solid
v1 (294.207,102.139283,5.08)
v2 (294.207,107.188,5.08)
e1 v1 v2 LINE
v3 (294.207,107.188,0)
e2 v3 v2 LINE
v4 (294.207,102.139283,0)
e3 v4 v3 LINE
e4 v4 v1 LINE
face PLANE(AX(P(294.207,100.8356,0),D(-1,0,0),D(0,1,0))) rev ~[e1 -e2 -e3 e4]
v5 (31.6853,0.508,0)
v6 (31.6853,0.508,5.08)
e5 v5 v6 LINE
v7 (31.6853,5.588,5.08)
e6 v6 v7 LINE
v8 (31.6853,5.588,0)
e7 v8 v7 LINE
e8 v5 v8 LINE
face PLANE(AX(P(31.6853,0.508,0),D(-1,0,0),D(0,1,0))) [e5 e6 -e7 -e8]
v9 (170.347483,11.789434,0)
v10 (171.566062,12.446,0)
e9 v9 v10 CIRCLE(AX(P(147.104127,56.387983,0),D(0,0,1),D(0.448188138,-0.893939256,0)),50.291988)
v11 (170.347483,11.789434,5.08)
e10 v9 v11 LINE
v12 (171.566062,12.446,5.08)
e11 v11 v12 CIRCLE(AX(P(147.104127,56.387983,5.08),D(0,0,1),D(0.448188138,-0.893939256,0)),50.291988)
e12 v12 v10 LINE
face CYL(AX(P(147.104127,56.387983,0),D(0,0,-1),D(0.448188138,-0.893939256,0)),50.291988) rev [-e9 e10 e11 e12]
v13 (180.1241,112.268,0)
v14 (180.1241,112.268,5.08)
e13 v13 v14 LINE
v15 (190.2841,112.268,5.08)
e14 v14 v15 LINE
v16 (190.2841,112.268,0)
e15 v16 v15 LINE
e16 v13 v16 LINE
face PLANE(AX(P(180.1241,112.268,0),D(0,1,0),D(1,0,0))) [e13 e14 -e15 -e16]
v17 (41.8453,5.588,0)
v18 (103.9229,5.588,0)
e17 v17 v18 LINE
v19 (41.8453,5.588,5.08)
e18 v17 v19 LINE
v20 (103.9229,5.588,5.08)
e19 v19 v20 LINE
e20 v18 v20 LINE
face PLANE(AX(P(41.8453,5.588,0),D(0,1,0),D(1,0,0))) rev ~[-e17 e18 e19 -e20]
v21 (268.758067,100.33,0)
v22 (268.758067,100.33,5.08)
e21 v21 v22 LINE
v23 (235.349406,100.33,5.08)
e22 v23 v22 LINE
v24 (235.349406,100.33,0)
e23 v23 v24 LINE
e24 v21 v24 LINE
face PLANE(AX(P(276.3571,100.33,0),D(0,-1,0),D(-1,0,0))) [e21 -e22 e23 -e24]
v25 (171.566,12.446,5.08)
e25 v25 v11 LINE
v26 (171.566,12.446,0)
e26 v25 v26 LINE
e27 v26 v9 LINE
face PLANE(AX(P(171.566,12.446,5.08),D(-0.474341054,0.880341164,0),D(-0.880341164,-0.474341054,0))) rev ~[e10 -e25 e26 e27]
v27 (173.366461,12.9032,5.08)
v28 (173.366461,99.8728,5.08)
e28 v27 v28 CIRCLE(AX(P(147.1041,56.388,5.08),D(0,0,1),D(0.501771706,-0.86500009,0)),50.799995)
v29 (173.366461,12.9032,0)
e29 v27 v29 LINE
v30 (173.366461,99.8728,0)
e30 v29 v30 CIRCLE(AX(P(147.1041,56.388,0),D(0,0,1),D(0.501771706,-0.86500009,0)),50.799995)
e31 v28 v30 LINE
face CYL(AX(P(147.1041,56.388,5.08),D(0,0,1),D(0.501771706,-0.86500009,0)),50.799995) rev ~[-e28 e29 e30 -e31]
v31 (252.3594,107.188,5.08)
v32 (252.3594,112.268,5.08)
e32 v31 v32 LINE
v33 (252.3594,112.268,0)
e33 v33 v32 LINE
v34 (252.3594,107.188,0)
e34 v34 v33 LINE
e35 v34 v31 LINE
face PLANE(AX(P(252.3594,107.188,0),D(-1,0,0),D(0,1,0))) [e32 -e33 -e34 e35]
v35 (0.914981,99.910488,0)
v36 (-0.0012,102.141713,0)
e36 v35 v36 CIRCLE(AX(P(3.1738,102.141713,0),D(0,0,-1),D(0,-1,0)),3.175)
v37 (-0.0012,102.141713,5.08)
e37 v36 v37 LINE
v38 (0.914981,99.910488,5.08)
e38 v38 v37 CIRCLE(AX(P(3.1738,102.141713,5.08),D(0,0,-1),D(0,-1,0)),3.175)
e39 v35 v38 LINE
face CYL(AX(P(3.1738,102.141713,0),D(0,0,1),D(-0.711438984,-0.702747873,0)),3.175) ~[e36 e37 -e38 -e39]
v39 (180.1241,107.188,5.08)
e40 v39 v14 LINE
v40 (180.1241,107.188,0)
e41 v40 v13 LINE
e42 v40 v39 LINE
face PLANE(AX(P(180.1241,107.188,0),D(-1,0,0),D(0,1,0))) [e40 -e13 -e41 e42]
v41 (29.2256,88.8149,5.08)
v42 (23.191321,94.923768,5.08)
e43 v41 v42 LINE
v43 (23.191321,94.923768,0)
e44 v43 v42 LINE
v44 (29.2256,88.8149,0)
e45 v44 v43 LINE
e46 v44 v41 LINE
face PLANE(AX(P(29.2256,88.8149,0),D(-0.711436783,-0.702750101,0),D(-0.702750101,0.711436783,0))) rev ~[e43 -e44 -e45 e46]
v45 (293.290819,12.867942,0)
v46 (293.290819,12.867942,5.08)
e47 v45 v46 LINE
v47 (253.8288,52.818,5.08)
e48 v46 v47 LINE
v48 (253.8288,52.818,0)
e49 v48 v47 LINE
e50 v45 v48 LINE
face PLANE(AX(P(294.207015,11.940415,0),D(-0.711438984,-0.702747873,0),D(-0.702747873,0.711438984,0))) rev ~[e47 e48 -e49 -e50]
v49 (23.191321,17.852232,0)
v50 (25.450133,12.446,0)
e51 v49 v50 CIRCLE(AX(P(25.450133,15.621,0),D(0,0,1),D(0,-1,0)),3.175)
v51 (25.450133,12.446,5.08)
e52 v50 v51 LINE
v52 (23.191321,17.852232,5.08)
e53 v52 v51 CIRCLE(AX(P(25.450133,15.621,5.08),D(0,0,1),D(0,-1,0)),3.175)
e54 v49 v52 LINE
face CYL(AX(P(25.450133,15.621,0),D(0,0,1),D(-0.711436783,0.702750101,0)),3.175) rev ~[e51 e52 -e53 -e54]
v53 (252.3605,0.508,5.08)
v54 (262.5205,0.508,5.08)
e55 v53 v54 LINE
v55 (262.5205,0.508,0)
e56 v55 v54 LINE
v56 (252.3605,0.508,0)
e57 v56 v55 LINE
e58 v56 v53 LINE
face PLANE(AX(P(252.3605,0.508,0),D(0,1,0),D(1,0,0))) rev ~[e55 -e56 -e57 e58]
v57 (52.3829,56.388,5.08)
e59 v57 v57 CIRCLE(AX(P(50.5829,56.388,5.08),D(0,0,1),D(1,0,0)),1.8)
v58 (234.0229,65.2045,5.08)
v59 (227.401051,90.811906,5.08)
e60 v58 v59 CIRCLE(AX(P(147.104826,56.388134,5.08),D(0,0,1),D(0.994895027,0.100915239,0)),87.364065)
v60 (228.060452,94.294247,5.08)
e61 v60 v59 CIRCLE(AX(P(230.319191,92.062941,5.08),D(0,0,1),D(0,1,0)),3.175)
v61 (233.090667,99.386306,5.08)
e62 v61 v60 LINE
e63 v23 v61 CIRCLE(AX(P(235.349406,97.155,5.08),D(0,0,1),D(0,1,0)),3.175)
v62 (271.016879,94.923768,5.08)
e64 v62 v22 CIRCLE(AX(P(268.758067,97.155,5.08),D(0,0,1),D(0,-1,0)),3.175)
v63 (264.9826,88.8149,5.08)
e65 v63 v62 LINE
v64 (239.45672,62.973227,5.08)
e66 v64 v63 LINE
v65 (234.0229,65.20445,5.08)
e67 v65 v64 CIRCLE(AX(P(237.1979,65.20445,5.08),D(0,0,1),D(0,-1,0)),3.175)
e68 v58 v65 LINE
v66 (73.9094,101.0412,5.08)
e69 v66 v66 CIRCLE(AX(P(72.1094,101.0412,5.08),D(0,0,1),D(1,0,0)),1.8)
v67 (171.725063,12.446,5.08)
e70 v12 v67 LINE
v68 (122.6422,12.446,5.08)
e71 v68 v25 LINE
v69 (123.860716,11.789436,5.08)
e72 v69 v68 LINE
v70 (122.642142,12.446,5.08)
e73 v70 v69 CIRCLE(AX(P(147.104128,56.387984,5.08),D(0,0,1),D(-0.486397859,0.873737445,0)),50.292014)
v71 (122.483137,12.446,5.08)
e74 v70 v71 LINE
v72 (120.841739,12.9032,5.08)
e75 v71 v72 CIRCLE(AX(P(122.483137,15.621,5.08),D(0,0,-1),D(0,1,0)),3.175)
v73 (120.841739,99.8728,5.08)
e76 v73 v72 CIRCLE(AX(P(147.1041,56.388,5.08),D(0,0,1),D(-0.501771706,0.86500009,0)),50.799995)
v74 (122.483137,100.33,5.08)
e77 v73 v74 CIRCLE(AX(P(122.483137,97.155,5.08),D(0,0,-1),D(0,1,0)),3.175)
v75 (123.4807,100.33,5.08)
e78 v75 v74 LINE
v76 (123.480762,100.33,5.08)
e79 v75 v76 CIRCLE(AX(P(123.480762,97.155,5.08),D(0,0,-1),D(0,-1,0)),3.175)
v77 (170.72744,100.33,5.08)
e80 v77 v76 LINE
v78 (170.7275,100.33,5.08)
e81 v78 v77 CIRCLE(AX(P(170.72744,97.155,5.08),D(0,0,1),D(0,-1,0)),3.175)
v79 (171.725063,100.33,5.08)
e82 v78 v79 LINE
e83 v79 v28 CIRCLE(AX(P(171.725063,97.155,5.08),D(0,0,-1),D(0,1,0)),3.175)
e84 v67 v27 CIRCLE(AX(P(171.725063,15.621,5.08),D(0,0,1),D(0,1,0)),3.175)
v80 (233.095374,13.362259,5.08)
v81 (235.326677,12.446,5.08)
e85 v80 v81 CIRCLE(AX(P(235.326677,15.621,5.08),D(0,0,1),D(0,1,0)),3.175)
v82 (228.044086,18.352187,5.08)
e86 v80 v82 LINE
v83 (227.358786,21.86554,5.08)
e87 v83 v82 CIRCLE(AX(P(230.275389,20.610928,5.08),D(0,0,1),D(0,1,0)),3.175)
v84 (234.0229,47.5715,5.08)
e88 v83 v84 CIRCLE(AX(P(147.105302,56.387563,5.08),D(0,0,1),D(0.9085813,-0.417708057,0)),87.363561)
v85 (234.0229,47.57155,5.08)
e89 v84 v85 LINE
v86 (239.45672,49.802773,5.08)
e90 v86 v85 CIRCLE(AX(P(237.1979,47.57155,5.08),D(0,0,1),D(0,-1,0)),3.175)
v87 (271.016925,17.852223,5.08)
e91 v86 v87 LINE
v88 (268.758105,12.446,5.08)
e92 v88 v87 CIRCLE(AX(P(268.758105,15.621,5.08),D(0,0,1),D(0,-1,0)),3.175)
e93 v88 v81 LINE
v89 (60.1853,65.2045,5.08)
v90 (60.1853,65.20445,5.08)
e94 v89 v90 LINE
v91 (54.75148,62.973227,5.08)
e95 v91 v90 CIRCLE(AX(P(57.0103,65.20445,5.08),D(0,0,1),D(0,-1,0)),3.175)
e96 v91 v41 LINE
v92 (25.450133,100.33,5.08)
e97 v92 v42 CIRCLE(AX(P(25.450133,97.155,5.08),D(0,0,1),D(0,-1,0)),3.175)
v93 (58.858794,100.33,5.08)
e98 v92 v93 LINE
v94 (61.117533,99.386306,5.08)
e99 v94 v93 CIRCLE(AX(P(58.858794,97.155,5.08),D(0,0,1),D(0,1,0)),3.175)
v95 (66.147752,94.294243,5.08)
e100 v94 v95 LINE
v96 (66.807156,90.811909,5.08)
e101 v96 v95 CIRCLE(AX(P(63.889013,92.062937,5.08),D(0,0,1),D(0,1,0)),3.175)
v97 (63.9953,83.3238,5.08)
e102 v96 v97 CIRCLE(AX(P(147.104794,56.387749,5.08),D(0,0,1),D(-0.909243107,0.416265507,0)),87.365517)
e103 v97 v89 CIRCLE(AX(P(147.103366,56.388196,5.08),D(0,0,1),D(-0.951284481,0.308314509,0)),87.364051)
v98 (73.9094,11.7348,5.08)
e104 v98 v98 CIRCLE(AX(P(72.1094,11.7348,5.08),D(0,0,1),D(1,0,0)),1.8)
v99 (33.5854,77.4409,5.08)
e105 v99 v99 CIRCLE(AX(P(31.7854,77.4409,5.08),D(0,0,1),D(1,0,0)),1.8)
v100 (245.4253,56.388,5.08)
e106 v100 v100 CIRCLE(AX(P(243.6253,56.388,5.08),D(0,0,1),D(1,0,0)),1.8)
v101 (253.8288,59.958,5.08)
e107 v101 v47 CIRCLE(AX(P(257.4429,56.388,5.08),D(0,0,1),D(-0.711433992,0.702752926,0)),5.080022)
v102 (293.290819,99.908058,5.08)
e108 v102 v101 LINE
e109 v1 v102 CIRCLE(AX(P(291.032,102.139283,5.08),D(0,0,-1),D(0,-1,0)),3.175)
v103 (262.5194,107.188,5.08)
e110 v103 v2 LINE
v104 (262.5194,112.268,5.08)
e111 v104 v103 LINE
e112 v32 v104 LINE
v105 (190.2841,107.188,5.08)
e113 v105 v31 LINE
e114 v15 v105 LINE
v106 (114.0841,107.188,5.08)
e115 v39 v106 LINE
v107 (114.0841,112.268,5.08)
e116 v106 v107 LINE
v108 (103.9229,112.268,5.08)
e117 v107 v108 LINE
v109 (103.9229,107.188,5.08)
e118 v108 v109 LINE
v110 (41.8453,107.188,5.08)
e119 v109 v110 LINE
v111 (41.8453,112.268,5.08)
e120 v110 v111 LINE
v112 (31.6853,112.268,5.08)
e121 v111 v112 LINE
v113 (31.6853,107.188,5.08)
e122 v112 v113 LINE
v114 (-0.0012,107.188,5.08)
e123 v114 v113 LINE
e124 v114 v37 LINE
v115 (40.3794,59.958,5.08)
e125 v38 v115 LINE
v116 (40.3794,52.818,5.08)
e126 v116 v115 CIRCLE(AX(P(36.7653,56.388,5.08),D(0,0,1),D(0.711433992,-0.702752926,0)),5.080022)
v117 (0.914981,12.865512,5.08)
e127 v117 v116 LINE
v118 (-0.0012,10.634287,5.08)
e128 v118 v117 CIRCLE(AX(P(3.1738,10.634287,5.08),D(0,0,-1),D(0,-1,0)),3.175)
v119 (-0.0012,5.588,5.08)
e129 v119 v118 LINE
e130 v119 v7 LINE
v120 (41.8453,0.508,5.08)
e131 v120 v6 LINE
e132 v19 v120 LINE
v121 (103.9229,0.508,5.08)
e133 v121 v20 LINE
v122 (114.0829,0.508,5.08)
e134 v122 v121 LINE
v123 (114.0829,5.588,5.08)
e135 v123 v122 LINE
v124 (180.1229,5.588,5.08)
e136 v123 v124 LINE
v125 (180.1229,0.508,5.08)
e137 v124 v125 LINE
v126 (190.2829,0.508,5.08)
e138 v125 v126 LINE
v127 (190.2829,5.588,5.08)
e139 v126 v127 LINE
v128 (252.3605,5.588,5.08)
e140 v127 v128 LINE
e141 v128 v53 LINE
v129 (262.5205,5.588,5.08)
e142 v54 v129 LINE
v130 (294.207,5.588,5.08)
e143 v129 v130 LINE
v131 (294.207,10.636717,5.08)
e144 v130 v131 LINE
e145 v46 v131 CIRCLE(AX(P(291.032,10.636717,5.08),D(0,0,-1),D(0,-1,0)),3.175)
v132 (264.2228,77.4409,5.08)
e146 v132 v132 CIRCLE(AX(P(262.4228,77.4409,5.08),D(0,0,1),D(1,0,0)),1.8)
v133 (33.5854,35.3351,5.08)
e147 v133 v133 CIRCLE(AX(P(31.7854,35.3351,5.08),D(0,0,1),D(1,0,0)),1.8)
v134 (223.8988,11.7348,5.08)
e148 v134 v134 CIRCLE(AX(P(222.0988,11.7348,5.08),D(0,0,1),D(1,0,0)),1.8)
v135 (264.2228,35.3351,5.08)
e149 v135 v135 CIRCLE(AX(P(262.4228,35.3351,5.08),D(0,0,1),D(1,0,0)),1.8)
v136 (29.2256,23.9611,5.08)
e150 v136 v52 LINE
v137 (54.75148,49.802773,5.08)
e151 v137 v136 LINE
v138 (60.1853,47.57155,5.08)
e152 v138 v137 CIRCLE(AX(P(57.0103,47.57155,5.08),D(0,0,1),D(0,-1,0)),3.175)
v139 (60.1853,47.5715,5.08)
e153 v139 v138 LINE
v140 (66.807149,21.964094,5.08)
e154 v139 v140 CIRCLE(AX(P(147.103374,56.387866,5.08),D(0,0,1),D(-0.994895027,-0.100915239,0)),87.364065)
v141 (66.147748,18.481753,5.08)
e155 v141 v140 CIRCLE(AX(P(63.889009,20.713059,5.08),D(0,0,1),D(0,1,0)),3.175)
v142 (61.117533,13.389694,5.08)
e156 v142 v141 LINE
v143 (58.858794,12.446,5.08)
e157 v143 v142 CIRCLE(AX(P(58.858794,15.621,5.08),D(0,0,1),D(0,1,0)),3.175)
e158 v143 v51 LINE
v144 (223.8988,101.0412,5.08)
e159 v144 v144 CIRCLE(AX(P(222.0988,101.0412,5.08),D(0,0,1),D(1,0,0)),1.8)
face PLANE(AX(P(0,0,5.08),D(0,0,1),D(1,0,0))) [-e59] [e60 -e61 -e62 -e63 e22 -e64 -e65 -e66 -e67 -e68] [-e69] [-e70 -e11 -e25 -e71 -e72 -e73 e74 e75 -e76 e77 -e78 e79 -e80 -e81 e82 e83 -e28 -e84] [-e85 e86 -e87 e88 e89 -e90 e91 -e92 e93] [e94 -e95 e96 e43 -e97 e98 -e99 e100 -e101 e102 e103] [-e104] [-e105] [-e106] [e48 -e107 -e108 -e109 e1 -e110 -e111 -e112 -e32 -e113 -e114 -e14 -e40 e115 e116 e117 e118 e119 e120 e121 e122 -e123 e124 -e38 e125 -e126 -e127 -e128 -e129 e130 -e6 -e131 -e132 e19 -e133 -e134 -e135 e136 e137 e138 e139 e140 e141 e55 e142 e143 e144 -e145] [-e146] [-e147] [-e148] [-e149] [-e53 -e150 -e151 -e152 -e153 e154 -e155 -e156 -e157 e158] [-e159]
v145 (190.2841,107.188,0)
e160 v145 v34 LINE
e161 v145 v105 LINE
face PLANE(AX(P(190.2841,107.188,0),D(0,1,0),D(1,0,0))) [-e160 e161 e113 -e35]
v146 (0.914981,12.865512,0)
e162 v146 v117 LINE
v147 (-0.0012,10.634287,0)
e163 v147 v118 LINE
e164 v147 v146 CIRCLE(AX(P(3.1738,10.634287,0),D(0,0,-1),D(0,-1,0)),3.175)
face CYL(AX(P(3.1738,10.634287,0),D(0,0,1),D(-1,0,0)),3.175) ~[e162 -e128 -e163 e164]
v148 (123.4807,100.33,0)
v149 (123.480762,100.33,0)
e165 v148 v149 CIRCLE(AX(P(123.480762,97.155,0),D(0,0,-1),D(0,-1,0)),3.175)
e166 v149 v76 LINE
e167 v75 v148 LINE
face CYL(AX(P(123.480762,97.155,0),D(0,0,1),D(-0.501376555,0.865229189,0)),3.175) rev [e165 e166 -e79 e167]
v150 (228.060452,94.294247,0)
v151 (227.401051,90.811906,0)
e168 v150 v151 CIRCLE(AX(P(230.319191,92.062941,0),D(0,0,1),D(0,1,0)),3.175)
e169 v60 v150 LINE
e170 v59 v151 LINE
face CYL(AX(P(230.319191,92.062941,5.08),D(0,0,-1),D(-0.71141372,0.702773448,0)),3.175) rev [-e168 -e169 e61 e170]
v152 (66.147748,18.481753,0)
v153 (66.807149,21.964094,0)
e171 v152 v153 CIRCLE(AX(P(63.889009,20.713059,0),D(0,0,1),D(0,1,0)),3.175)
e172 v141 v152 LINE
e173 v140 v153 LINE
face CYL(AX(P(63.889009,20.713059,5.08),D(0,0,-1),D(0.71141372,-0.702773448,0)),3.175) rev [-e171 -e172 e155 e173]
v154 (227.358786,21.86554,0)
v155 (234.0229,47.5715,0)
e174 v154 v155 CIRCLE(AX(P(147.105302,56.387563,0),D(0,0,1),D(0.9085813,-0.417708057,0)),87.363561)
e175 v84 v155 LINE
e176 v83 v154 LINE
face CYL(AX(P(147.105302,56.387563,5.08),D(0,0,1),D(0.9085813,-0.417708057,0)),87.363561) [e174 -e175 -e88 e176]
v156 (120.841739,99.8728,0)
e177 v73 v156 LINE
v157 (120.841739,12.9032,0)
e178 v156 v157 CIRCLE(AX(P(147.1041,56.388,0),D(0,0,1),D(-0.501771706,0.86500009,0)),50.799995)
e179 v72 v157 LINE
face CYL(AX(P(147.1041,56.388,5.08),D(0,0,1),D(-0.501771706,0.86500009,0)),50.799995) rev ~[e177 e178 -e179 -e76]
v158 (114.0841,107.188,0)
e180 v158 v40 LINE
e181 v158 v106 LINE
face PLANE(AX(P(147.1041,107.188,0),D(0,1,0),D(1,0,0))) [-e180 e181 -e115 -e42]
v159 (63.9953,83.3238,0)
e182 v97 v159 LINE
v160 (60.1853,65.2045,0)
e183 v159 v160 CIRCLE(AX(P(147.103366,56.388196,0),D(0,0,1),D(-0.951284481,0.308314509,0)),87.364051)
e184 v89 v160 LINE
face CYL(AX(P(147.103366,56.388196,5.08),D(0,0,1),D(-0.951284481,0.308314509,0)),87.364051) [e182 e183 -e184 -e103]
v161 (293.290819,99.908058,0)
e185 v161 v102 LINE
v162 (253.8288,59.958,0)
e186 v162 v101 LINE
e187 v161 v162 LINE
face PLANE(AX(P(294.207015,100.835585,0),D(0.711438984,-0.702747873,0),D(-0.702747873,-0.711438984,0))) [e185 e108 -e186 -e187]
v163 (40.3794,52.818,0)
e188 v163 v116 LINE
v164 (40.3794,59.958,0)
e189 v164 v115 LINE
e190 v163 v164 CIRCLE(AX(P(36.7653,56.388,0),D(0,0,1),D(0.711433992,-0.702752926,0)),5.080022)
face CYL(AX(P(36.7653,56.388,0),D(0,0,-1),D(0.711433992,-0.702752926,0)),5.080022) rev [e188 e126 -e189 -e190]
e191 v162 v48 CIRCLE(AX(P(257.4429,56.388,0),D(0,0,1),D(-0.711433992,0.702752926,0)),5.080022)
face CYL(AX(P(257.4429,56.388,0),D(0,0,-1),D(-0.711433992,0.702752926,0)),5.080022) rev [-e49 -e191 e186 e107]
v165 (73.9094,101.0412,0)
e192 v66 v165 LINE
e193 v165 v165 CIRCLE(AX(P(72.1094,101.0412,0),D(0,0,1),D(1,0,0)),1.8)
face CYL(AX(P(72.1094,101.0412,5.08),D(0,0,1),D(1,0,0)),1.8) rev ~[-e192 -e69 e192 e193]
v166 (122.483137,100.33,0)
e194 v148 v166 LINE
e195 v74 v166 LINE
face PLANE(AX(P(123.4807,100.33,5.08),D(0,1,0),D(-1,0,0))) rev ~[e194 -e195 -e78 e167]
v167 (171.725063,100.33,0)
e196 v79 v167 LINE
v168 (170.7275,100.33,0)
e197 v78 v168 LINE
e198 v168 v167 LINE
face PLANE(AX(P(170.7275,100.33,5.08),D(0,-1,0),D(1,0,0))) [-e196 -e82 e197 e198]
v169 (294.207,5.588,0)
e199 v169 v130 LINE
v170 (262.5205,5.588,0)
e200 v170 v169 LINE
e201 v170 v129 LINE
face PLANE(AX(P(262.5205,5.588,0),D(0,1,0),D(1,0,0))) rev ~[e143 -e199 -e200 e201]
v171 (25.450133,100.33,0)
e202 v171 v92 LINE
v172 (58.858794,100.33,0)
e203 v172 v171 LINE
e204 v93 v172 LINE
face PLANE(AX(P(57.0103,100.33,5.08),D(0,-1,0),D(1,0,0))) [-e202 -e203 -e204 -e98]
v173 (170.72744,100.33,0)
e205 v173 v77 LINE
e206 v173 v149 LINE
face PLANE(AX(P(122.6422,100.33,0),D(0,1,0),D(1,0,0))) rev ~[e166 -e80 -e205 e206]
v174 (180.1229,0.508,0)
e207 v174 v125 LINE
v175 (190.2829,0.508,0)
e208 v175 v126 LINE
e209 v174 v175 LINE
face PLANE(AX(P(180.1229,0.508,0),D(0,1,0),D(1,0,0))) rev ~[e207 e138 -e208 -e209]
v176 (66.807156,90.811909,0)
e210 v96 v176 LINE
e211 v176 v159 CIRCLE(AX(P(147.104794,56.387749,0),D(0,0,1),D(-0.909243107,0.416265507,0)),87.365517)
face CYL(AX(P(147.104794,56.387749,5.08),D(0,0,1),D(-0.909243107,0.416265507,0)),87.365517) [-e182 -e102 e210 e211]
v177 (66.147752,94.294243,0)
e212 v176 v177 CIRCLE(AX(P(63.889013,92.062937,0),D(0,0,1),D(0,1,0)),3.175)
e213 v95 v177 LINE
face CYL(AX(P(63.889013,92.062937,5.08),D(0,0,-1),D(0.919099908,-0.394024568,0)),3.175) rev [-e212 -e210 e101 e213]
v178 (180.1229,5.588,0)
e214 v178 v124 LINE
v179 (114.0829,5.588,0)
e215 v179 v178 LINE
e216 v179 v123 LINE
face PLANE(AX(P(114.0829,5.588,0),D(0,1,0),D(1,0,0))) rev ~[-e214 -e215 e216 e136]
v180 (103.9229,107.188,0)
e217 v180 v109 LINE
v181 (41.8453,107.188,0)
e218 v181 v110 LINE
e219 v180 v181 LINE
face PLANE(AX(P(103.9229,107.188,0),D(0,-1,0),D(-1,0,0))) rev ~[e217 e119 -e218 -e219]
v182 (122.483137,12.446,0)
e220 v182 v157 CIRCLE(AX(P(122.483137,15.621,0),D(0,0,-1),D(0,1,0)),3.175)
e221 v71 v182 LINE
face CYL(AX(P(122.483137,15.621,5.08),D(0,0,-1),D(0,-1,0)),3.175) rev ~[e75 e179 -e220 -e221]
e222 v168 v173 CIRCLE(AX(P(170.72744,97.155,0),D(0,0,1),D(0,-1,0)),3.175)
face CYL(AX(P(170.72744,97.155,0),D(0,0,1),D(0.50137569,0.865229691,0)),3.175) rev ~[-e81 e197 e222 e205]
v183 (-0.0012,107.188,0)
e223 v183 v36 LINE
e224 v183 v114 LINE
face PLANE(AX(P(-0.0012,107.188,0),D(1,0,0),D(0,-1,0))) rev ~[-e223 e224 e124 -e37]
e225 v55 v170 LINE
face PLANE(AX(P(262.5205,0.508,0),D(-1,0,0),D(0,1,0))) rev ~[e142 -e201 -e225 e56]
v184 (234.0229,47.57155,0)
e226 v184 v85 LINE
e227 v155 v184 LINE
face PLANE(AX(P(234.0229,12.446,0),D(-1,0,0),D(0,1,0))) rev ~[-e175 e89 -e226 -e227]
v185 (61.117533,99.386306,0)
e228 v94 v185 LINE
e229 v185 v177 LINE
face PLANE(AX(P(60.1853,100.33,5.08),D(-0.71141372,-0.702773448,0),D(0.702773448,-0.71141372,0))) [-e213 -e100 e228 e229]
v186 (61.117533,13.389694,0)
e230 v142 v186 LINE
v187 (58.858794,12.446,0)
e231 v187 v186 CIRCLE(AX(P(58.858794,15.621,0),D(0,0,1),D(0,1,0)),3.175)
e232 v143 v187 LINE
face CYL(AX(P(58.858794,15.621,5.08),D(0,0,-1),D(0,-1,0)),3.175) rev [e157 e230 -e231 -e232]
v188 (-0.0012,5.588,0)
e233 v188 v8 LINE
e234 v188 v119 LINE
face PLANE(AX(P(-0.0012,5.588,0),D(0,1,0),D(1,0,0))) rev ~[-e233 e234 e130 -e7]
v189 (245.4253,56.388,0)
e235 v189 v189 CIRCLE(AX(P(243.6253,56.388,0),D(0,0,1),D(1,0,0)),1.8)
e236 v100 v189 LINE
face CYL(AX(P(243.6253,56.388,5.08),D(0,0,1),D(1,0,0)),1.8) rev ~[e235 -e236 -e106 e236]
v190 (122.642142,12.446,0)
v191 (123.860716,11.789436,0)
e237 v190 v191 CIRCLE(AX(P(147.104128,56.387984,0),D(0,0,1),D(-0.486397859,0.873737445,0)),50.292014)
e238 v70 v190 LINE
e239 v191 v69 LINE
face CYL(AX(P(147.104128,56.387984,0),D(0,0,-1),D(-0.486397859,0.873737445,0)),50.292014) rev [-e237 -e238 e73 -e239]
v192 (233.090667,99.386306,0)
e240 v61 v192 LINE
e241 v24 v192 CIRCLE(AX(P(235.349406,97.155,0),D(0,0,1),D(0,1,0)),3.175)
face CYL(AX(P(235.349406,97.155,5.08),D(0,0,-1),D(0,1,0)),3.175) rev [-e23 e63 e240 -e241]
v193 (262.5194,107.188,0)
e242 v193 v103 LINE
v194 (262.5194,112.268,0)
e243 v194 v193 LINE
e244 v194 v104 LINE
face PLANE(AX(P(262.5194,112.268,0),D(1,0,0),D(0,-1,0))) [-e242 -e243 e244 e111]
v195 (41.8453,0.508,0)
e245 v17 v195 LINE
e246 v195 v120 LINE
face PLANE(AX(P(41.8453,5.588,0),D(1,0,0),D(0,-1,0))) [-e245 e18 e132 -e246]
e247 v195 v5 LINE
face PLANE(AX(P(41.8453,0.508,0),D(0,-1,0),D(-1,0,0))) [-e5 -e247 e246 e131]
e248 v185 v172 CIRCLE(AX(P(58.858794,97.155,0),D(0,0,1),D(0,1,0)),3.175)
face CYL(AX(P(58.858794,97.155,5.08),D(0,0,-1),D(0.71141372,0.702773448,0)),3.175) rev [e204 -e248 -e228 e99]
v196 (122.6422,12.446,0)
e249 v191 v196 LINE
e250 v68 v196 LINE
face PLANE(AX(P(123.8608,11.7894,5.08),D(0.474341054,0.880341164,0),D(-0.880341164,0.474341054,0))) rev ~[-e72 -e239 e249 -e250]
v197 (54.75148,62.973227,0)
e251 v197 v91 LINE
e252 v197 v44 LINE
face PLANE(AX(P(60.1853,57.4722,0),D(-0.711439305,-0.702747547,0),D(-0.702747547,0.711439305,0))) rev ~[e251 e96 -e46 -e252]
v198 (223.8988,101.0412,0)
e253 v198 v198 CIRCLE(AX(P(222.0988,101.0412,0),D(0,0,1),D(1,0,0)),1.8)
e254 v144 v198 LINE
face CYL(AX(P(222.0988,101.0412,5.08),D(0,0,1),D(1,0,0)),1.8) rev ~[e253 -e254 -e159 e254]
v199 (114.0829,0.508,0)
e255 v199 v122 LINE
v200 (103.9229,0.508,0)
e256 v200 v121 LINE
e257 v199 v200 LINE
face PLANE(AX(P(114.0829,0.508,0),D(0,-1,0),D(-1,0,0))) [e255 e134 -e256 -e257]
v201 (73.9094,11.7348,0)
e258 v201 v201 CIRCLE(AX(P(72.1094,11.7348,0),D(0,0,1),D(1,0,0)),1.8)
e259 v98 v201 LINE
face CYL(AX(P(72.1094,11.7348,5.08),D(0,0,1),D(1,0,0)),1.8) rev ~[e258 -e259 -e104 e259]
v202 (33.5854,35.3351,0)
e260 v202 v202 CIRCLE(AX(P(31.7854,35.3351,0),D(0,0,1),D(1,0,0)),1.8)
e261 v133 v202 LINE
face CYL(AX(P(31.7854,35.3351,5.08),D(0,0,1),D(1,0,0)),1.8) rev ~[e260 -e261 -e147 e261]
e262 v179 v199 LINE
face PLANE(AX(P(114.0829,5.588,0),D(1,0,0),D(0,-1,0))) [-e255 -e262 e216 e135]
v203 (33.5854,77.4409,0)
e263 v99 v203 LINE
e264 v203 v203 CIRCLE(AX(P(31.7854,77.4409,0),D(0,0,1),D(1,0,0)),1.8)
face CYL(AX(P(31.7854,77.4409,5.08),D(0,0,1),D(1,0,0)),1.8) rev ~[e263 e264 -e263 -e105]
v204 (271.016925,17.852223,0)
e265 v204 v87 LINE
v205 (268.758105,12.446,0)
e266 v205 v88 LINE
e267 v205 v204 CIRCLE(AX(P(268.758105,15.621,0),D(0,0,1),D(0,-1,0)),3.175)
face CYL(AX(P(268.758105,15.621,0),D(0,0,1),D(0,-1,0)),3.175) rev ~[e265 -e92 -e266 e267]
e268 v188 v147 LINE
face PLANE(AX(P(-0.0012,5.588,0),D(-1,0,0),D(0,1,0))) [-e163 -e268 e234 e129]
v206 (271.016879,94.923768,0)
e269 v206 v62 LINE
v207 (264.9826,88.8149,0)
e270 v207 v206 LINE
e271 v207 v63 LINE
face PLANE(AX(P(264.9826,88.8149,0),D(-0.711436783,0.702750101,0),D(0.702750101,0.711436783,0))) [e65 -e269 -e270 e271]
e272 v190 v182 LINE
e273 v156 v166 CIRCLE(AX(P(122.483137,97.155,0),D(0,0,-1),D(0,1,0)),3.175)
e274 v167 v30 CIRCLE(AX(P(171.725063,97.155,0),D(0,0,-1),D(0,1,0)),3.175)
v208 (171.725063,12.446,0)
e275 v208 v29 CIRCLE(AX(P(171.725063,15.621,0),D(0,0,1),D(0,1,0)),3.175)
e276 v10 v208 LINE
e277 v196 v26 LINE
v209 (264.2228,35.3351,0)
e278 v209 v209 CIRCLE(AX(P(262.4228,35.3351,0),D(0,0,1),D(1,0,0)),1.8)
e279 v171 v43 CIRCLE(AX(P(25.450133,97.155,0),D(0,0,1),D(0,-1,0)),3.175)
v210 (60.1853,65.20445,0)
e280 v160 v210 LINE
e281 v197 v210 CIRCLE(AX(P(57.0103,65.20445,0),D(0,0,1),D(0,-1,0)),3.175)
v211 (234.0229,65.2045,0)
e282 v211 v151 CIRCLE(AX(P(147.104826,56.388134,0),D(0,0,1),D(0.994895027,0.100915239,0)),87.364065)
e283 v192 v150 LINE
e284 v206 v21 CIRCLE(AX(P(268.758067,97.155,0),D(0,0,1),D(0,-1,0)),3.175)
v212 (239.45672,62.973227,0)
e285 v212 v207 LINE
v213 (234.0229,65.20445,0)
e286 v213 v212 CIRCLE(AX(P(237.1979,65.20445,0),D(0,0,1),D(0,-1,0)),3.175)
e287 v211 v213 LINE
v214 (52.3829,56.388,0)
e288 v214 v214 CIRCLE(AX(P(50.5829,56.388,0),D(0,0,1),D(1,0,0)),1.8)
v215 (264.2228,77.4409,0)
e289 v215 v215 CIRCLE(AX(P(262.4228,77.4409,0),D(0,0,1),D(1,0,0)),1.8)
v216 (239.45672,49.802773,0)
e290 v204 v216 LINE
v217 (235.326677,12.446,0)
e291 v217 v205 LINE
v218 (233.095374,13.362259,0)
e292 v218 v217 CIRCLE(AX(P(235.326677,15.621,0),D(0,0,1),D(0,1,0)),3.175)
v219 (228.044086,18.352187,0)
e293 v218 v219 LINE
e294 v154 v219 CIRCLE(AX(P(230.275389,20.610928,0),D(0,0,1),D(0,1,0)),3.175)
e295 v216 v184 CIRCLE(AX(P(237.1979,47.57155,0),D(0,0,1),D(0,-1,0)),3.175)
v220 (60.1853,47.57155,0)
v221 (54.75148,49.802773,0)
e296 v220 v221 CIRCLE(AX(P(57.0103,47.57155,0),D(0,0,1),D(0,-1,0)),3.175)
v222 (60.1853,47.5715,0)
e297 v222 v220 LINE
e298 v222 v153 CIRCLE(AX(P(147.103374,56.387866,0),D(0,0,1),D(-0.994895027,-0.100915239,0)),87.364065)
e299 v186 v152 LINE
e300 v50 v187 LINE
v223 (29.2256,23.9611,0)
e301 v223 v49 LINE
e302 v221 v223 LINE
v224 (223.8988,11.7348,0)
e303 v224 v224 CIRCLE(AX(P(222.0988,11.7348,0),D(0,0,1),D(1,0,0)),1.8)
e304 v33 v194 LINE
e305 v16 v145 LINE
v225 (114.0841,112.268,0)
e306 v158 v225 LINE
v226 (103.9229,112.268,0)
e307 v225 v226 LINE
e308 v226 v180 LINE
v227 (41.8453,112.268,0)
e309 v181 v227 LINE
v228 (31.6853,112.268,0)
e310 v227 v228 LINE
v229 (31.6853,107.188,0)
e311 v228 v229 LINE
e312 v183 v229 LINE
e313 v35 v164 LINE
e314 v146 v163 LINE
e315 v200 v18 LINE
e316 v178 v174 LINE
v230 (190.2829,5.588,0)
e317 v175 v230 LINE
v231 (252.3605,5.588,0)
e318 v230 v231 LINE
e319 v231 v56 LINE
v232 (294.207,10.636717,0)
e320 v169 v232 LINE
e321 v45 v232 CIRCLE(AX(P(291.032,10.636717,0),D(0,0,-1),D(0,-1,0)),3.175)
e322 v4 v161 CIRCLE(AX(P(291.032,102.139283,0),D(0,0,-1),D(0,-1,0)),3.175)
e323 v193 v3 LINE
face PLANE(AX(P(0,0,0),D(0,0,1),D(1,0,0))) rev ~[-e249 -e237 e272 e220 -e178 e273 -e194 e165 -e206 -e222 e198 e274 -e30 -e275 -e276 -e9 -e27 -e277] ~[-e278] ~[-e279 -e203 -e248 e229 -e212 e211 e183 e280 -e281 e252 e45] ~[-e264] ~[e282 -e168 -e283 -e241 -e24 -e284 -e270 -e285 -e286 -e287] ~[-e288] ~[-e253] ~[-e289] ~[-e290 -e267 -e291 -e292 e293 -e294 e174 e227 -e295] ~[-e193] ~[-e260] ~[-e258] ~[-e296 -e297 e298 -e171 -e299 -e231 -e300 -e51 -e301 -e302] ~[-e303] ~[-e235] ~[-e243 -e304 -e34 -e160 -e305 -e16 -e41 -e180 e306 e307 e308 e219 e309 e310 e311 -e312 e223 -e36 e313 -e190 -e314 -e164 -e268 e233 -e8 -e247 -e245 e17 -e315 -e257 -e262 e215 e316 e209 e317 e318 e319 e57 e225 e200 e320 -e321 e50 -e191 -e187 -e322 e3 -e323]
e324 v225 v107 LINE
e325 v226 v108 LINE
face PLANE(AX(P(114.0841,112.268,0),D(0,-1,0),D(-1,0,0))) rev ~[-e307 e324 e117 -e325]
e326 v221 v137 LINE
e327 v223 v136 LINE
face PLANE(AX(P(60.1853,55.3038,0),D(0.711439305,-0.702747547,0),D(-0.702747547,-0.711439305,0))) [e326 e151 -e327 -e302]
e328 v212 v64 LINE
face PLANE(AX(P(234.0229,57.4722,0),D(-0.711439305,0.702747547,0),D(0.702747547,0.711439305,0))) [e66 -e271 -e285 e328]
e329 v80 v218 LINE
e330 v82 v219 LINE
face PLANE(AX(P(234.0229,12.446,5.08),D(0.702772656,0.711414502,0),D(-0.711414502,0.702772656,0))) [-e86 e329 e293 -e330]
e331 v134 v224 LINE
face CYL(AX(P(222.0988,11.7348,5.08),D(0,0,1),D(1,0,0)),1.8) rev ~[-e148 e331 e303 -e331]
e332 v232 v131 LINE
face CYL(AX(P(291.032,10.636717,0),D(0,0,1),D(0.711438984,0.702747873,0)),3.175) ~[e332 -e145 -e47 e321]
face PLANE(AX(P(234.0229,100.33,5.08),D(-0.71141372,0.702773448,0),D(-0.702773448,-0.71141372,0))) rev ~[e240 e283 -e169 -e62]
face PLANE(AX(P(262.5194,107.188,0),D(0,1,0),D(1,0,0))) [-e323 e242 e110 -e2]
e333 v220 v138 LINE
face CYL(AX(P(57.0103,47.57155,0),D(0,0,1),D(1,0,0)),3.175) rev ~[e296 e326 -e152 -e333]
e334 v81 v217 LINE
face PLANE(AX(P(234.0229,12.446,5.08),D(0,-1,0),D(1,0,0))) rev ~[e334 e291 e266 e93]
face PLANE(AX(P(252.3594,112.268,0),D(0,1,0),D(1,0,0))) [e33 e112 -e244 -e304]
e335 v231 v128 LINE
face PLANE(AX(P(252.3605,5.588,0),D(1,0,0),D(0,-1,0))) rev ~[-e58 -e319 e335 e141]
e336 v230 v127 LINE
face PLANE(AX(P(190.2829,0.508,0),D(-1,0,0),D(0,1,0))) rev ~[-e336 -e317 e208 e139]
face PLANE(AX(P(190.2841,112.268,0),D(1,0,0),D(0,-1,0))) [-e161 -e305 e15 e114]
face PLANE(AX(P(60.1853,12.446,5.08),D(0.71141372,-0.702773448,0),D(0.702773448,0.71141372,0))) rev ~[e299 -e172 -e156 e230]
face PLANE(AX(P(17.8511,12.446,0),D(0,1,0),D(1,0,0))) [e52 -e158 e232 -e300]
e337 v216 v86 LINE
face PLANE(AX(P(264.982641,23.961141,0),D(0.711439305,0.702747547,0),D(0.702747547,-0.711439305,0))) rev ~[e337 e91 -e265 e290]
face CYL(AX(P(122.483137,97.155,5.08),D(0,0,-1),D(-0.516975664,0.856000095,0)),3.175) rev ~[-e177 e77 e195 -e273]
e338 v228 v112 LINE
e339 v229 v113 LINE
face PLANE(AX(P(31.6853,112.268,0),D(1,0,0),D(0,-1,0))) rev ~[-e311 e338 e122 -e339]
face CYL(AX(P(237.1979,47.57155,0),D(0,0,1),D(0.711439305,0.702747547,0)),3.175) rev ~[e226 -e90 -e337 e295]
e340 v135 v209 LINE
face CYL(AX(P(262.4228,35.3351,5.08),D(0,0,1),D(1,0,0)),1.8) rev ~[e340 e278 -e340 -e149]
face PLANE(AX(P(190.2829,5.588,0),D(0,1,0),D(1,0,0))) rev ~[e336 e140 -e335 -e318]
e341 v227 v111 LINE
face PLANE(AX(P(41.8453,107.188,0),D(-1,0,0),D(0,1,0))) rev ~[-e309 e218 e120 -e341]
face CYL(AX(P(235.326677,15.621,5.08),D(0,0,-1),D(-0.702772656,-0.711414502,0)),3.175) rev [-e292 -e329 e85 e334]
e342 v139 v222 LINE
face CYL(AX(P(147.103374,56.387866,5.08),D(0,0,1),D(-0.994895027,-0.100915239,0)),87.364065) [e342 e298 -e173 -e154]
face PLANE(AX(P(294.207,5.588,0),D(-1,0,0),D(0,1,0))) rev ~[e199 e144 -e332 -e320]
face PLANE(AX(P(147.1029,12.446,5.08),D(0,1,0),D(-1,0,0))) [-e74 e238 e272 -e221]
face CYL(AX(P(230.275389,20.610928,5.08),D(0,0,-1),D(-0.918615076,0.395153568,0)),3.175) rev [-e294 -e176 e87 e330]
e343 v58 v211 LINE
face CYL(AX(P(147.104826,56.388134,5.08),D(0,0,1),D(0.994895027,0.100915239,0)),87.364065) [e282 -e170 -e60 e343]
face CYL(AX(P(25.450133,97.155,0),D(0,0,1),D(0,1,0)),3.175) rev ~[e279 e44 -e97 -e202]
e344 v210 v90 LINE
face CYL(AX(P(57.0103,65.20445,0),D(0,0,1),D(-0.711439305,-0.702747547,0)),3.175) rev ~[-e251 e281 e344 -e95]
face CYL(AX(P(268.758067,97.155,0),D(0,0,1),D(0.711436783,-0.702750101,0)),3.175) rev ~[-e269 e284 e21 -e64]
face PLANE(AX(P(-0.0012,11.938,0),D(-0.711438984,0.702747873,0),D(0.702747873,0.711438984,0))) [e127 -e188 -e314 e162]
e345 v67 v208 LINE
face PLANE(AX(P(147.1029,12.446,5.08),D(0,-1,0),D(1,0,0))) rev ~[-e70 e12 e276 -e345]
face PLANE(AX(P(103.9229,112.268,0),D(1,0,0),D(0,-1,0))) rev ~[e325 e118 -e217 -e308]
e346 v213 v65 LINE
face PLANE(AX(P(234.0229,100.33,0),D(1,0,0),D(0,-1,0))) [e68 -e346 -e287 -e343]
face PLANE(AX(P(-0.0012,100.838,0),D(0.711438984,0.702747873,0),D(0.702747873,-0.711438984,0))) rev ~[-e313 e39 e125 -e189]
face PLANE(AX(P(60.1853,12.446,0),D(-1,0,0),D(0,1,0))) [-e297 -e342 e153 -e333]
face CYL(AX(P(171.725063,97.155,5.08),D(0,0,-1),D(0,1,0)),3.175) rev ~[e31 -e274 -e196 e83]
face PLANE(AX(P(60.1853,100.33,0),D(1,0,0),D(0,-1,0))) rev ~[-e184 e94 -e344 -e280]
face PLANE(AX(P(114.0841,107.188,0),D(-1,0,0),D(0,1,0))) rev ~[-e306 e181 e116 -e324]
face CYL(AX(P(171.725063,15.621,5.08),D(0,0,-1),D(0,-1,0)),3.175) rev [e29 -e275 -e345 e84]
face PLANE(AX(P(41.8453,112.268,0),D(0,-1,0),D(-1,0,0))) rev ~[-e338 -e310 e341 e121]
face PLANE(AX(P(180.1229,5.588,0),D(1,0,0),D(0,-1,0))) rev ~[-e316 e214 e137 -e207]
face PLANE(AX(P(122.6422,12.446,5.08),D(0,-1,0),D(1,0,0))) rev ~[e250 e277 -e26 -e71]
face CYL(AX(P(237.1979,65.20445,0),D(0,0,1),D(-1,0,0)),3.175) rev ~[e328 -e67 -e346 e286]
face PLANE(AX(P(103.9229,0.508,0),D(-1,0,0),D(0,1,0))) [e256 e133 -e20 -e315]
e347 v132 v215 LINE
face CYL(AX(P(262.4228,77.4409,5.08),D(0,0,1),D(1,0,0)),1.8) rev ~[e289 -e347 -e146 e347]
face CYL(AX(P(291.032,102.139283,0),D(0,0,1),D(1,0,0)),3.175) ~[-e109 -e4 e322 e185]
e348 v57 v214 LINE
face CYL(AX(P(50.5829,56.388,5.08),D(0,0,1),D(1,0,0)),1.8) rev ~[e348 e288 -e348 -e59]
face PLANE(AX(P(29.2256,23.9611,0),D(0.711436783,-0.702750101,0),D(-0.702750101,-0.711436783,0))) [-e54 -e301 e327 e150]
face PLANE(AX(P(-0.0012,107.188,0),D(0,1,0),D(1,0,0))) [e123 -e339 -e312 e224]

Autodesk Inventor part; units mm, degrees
ref_plane "YZ Plane" through (0, 0, 0) normal (1, 0, 0) x (0, 1, 0)
ref_plane "XZ Plane" through (0, 0, 0) normal (0, 1, 0) x (-1, 0, 0)
ref_plane "XY Plane" through (0, 0, 0) normal (0, 0, 1) x (1, 0, 0)
sketch "Sketch1" plane through (0, 0, 0) normal (0, 0, 1) x (1, 0, 0)
  line L0 (147.1041, 107.188) -> (114.0841, 107.188)
  line L1 (114.0841, 107.188) -> (114.0841, 112.268)
  line L2 (114.0841, 112.268) -> (103.9229, 112.268)
  line L3 (103.9229, 112.268) -> (103.9229, 107.188)
  line L4 (103.9229, 107.188) -> (41.8453, 107.188)
  line L5 (41.8453, 107.188) -> (41.8453, 112.268)
  line L6 (41.8453, 112.268) -> (31.6853, 112.268)
  line L7 (31.6853, 112.268) -> (31.6853, 107.188)
  line L8 (180.1241, 107.188) -> (180.1241, 112.268)
  line L9 (180.1241, 112.268) -> (190.2841, 112.268)
  line L10 (190.2841, 112.268) -> (190.2841, 107.188)
  line L11 (252.3594, 107.188) -> (252.3594, 112.268)
  line L12 (252.3594, 112.268) -> (262.5194, 112.268)
  line L13 (262.5194, 112.268) -> (262.5194, 107.188)
  line L14 (114.0829, 5.588) -> (114.0829, 0.508)
  line L15 (114.0829, 0.508) -> (103.9229, 0.508)
  line L16 (103.9229, 0.508) -> (103.9229, 5.588)
  line L17 (41.8453, 5.588) -> (41.8453, 0.508)
  line L18 (41.8453, 0.508) -> (31.6853, 0.508)
  line L19 (31.6853, 0.508) -> (31.6853, 5.588)
  line L20 (252.3605, 5.588) -> (252.3605, 0.508)
  line L21 (262.5205, 0.508) -> (262.5205, 5.588)
  line L22 (252.3605, 0.508) -> (262.5205, 0.508)
  line L23 (190.2829, 0.508) -> (190.2829, 5.588)
  line L24 (180.1229, 5.588) -> (180.1229, 0.508)
  line L25 (180.1229, 0.508) -> (190.2829, 0.508)
  line L26 (41.8453, 112.268) -> (31.6853, 112.268)
  line L27 (-0.0012, 107.188) -> (31.6853, 107.188)
  line L28 (41.8453, 107.188) -> (103.9229, 107.188)
  line L29 (114.0841, 112.268) -> (103.9229, 112.268)
  line L30 (262.5194, 112.268) -> (252.3594, 112.268)
  line L31 (190.2841, 112.268) -> (180.1241, 112.268)
  line L32 (114.0841, 107.188) -> (180.1241, 107.188)
  line L33 (190.2841, 107.188) -> (252.3594, 107.188)
  line L34 (262.5194, 107.188) -> (294.207, 107.188)
  line L35 (31.6853, 0.508) -> (41.8453, 0.508)
  line L36 (-0.0012, 5.588) -> (31.6853, 5.588)
  line L37 (103.9229, 0.508) -> (114.0829, 0.508)
  line L38 (41.8453, 5.588) -> (103.9229, 5.588)
  line L39 (180.1229, 0.508) -> (190.2829, 0.508)
  line L40 (252.3605, 0.508) -> (262.5205, 0.508)
  line L41 (114.0829, 5.588) -> (180.1229, 5.588)
  line L42 (190.2829, 5.588) -> (252.3605, 5.588)
  line L43 (262.5205, 5.588) -> (294.207, 5.588)
  line L44 (-0.0012, 107.188) -> (-0.0012, 100.838)
  line L45 (122.6422, 100.33) -> (171.566, 100.33)
  line L46 (-0.0012, 5.588) -> (-0.0012, 11.938)
  arc A0 (169.6444, 11.43) -> (171.566, 100.33) centre (147.1041, 56.388) ccw
  arc A1 (122.6422, 100.33) -> (124.5638, 11.43) centre (147.1041, 56.388) ccw
  line L47 (124.5638, 11.43) -> (169.6444, 11.43)
  arc A2 (40.3794, 52.818) -> (40.3794, 59.958) centre (36.7653, 56.388) ccw
  line L48 (-0.0012, 100.838) -> (40.3794, 59.958)
  line L49 (-0.0012, 11.938) -> (40.3794, 52.818)
  line L50 (-0.0012, 107.188) -> (-0.0012, 100.838)
  line L51 (-0.0012, 11.938) -> (-0.0012, 5.588)
  line L52 (29.2256, 88.8149) -> (17.8511, 100.33)
  line L53 (60.1853, 100.33) -> (60.1853, 57.4722)
  line L54 (60.1853, 57.4722) -> (17.8511, 100.33)
  line L55 (17.8511, 100.33) -> (60.1853, 100.33)
  arc A3 (253.8288, 59.958) -> (253.8288, 52.818) centre (257.4429, 56.388) ccw
  line L56 (294.2094, 100.838) -> (253.8288, 59.958)
  line L57 (294.2094, 11.938) -> (253.8288, 52.818)
  line L58 (264.9826, 88.8149) -> (276.3571, 100.33)
  line L59 (234.0229, 100.33) -> (234.0229, 57.4722)
  line L60 (234.0229, 57.4722) -> (276.3571, 100.33)
  line L61 (276.3571, 100.33) -> (234.0229, 100.33)
  line L62 (-0.0012, 5.588) -> (31.6853, 5.588)
  line L63 (190.2841, 5.588) -> (252.3594, 5.588)
  arc A4 (40.3794, 52.818) -> (40.3794, 59.958) centre (36.7653, 56.388) ccw
  line L64 (29.2256, 23.9611) -> (17.8511, 12.446)
  line L65 (60.1853, 12.446) -> (60.1853, 55.3038)
  line L66 (60.1853, 55.3038) -> (17.8511, 12.446)
  line L67 (17.8511, 12.446) -> (60.1853, 12.446)
  line L68 (234.0229, 12.446) -> (234.0229, 55.3038)
  arc A5 (253.8288, 59.958) -> (253.8288, 52.818) centre (257.4429, 56.388) ccw
  line L69 (234.0229, 55.3038) -> (276.3571, 12.446)
  line L70 (276.3571, 12.446) -> (234.0229, 12.446)
  line L71 (264.9826, 23.9611) -> (276.3571, 12.446)
  line L72 (294.207, 5.588) -> (294.207, 11.9404)
  line L73 (294.207, 100.8356) -> (294.207, 107.188)
  point P0 (0, 0)
  point P1 (262.5194, 5.588)
  dimension "d9" = 6.35
  dimension "d10" = 6.35
extrude "Extrusion1" add sketch "Sketch1" along normal blind 5.08
fillet "Fillet1" radius 3.175 20 edges at (234.0229, 12.446, 2.54) (276.3571, 12.446, 2.54) (234.0229, 55.3038, 2.54) (234.0229, 57.4722, 2.54) (276.3571, 100.33, 2.54) (234.0229, 100.33, 2.54) (17.8511, 12.446, 2.54) (60.1853, 12.446, 2.54) (60.1853, 55.3038, 2.54) (60.1853, 57.4722, 2.54) (60.1853, 100.33, 2.54) (17.8511, 100.33, 2.54) (-0.0012, 100.838, 2.54) (-0.0012, 11.938, 2.54) (122.6422, 100.33, 2.54) (171.566, 100.33, 2.54) (124.5638, 11.43, 2.54) (169.6444, 11.43, 2.54) (294.207, 11.9404, 2.54) (294.207, 100.8356, 2.54)
sketch "Sketch5" plane through (0, 0, 5.08) normal (0, 0, 1) x (1, 0, 0)
  arc A0 (40.3794, 52.818) -> (40.3794, 59.958) centre (36.7653, 56.388) ccw projected
  line L0 (31.6853, 107.188) -> (-0.0012, 107.188) projected
  line L1 (-0.0012, 10.6343) -> (-0.0012, 5.588) projected
  line L2 (41.8453, 5.588) -> (103.9229, 5.588) projected
  circle A1 centre (50.5829, 56.388) radius 1.8
  circle A2 centre (72.1094, 101.0412) radius 1.8
  circle A3 centre (72.1094, 11.7348) radius 1.8
  line L3 (180.1241, 107.188) -> (114.0841, 107.188) projected
  arc A4 (170.3474, 11.7894) -> (172.3193, 99.9021) centre (147.1041, 56.388) ccw projected
  circle A5 centre (243.6253, 56.388) radius 1.8
  circle A6 centre (222.0988, 101.0412) radius 1.8
  circle A7 centre (222.0988, 11.7348) radius 1.8
  point P0 (0, 0)
  dimension "d29" = 3.6
  dimension "d30" = 3.6
extrude "Extrusion5" cut sketch "Sketch5" against normal blind 25.4
sketch "Sketch6" plane through (0, 0, 5.08) normal (0, 0, 1) x (1, 0, 0)
  arc A0 (63.9953, 83.3238) -> (60.1853, 65.2045) centre (147.1041, 56.388) ccw
  line L0 (57.0103, 100.33) -> (60.1853, 100.33)
  line L1 (60.1853, 65.2045) -> (57.0103, 100.33)
  line L2 (60.1853, 100.33) -> (67.6683, 92.755)
  arc A1 (67.6683, 92.755) -> (60.1853, 65.2045) centre (147.1041, 56.388) ccw
  line L3 (60.1853, 12.446) -> (67.6683, 20.021)
  line L4 (60.1853, 12.446) -> (57.0103, 12.446)
  line L5 (57.0103, 12.446) -> (60.1853, 47.5715)
  line L6 (234.0229, 12.446) -> (226.4822, 19.8951)
  line L7 (234.0229, 12.446) -> (237.1979, 12.446)
  line L8 (237.1979, 12.446) -> (234.0229, 47.5715)
  arc A2 (60.1853, 47.5715) -> (67.6683, 20.021) centre (147.1041, 56.388) ccw
  line L9 (234.0229, 65.2045) -> (237.1979, 100.33)
  line L10 (234.0229, 100.33) -> (226.5399, 92.755)
  line L11 (234.0229, 100.33) -> (237.1979, 100.33)
  arc A3 (67.6683, 92.755) -> (60.1853, 65.2045) centre (147.1041, 56.388) ccw
  arc A4 (226.4822, 19.8951) -> (234.0229, 47.5715) centre (147.1041, 56.388) ccw
  arc A5 (234.0229, 65.2045) -> (226.5399, 92.755) centre (147.1041, 56.388) ccw
  point P0 (0, 0)
  point P1 (63.9953, 96.4732)
extrude "Extrusion7" cut sketch "Sketch6" against normal blind 25.4
fillet "Fillet5" radius 3.175 8 edges at (60.1853, 100.33, 2.54) (67.6683, 92.755, 2.54) (67.6683, 20.021, 2.54) (60.1853, 12.446, 2.54) (234.0229, 12.446, 2.54) (226.4822, 19.8951, 2.54) (226.5399, 92.755, 2.54) (234.0229, 100.33, 2.54)
sketch "Sketch8" plane through (0, 0, 5.08) normal (0, 0, 1) x (1, 0, 0)
  line L0 (123.4807, 100.33) -> (170.7275, 100.33) projected
  line L1 (147.1041, 100.33) -> (121.6141, 100.33)
  line L2 (180.1241, 107.188) -> (114.0841, 107.188) projected
  line L3 (121.6141, 100.33) -> (172.5941, 100.33)
  line L4 (114.0829, 5.588) -> (180.1229, 5.588) projected
  line L5 (147.1029, 12.446) -> (121.6141, 12.446)
  line L6 (121.6141, 12.446) -> (172.5941, 12.446)
  arc A0 (172.5941, 12.446) -> (172.5941, 100.33) centre (147.1041, 56.388) ccw
  arc A1 (121.6141, 100.33) -> (121.6141, 12.446) centre (147.1041, 56.388) ccw
  point P0 (0, 0)
extrude "Extrusion8" cut sketch "Sketch8" against normal blind 25.4
sketch "Sketch9" plane through (0, 0, 5.08) normal (0, 0, 1) x (1, 0, 0)
  line L0 (122.6422, 12.446) -> (121.6141, 12.446) projected
  line L1 (172.5941, 12.446) -> (171.566, 12.446) projected
  line L2 (122.6422, 12.446) -> (171.566, 12.446)
  line L3 (168.8801, 11.43) -> (125.3281, 11.43) projected
  line L4 (125.3281, 11.43) -> (168.8801, 11.43)
  arc A0 (122.6422, 12.446) -> (123.8608, 11.7894) centre (147.1041, 56.388) ccw projected
  line L5 (123.8608, 11.7894) -> (122.6422, 12.446)
  arc A1 (170.3474, 11.7894) -> (171.566, 12.446) centre (147.1041, 56.388) ccw projected
  line L6 (171.566, 12.446) -> (170.3474, 11.7894)
  arc A2 (168.8801, 11.43) -> (170.3474, 11.7894) centre (168.8801, 14.605) ccw projected
  arc A3 (168.8801, 11.43) -> (170.3474, 11.7894) centre (168.8801, 14.605) ccw
  arc A4 (123.8608, 11.7894) -> (125.3281, 11.43) centre (125.3281, 14.605) ccw projected
  arc A5 (123.8608, 11.7894) -> (125.3281, 11.43) centre (125.3281, 14.605) ccw
  point P0 (0, 0)
extrude "Extrusion9" add sketch "Sketch9" against normal blind 5.08 contours L2 L6 A2 L3 A4 L5
fillet "Fillet6" radius 3.175 4 edges at (121.6141, 100.33, 2.54) (172.5941, 100.33, 2.54) (121.6141, 12.446, 2.54) (172.5941, 12.446, 2.54)
sketch "Sketch10" plane through (0, 0, 5.08) normal (0, 0, 1) x (1, 0, 0)
  circle A0 centre (31.7854, 77.4409) radius 1.8
  circle A1 centre (31.7854, 35.3351) radius 1.8
  circle A2 centre (262.4228, 77.4409) radius 1.8
  circle A3 centre (262.4228, 35.3351) radius 1.8
  point P0 (0, 0)
  point P1 (23.1913, 94.9238)
  point P2 (40.3794, 59.958)
  point P3 (23.1913, 17.8522)
  point P4 (-0.0012, 107.188)
  point P5 (294.207, 107.188)
extrude "Extrusion10" cut sketch "Sketch10" against normal blind 25.4
sketch "Sketch11" plane through (0, 0, 5.08) normal (0, 0, 1) x (1, 0, 0)
  line L0 (40.3794, 52.818) -> (0.915, 12.8655) projected
  line L1 (0.915, 12.8655) -> (40.3794, 52.818)
  line L2 (0.915, 99.9105) -> (40.3794, 59.958) projected
  line L3 (0.915, 99.9105) -> (40.3794, 59.958)
  line L4 (23.1913, 94.9238) -> (54.7515, 62.9733) projected
  line L5 (23.1913, 94.9238) -> (54.7515, 62.9733)
  line L6 (54.7515, 49.8027) -> (23.1913, 17.8522) projected
  line L7 (54.7515, 62.9733) -> (54.7515, 49.8027)
  line L8 (54.7515, 49.8027) -> (23.1913, 17.8522)
  arc A0 (40.3794, 52.818) -> (40.3794, 59.958) centre (36.7653, 56.388) ccw projected
  arc A1 (40.3794, 52.818) -> (40.3794, 59.958) centre (36.7653, 56.388) ccw
  arc A2 (-0.0012, 102.1417) -> (0.915, 99.9105) centre (3.1738, 102.1417) ccw projected
  arc A3 (-0.0012, 102.1417) -> (0.915, 99.9105) centre (3.1738, 102.1417) ccw
  arc A4 (0.915, 12.8655) -> (-0.0012, 10.6343) centre (3.1738, 10.6343) ccw projected
  arc A5 (0.915, 12.8655) -> (-0.0012, 10.6343) centre (3.1738, 10.6343) ccw
  line L9 (-0.0012, 107.188) -> (-0.0012, 102.1417) projected
  line L10 (-0.0012, 102.1417) -> (-0.0012, 107.188)
  line L11 (54.7515, 62.9733) -> (23.1913, 94.9238)
  line L12 (-0.0012, 10.6343) -> (-0.0012, 5.588) projected
  line L13 (-0.0012, 10.6343) -> (-0.0012, 5.588)
  line L14 (54.7515, 49.8027) -> (23.1913, 17.8522)
  circle A6 centre (31.7854, 77.4409) radius 1.8 projected
  circle A7 centre (31.7854, 77.4409) radius 1.8
  circle A8 centre (50.5829, 56.388) radius 1.8 projected
  circle A9 centre (50.5829, 56.388) radius 1.8
  circle A10 centre (31.7854, 35.3351) radius 1.8 projected
  circle A11 centre (31.7854, 35.3351) radius 1.8
  arc A12 (23.4185, 99.5949) -> (23.1913, 94.9238) centre (25.4501, 97.155) ccw
  line L15 (31.6853, 107.188) -> (23.4185, 99.5949)
  line L16 (-0.0012, 107.188) -> (31.6853, 107.188)
  line L17 (-0.0012, 5.588) -> (31.6853, 5.588) projected
  line L18 (23.4185, 13.1811) -> (31.6853, 5.588)
  arc A13 (23.1913, 17.8522) -> (23.4185, 13.1811) centre (25.4501, 15.621) ccw
  line L19 (-0.0012, 5.588) -> (31.6853, 5.588)
  point P0 (0, 0)
  point P1 (25.4501, 12.446)
properties part number "sidePlate"
